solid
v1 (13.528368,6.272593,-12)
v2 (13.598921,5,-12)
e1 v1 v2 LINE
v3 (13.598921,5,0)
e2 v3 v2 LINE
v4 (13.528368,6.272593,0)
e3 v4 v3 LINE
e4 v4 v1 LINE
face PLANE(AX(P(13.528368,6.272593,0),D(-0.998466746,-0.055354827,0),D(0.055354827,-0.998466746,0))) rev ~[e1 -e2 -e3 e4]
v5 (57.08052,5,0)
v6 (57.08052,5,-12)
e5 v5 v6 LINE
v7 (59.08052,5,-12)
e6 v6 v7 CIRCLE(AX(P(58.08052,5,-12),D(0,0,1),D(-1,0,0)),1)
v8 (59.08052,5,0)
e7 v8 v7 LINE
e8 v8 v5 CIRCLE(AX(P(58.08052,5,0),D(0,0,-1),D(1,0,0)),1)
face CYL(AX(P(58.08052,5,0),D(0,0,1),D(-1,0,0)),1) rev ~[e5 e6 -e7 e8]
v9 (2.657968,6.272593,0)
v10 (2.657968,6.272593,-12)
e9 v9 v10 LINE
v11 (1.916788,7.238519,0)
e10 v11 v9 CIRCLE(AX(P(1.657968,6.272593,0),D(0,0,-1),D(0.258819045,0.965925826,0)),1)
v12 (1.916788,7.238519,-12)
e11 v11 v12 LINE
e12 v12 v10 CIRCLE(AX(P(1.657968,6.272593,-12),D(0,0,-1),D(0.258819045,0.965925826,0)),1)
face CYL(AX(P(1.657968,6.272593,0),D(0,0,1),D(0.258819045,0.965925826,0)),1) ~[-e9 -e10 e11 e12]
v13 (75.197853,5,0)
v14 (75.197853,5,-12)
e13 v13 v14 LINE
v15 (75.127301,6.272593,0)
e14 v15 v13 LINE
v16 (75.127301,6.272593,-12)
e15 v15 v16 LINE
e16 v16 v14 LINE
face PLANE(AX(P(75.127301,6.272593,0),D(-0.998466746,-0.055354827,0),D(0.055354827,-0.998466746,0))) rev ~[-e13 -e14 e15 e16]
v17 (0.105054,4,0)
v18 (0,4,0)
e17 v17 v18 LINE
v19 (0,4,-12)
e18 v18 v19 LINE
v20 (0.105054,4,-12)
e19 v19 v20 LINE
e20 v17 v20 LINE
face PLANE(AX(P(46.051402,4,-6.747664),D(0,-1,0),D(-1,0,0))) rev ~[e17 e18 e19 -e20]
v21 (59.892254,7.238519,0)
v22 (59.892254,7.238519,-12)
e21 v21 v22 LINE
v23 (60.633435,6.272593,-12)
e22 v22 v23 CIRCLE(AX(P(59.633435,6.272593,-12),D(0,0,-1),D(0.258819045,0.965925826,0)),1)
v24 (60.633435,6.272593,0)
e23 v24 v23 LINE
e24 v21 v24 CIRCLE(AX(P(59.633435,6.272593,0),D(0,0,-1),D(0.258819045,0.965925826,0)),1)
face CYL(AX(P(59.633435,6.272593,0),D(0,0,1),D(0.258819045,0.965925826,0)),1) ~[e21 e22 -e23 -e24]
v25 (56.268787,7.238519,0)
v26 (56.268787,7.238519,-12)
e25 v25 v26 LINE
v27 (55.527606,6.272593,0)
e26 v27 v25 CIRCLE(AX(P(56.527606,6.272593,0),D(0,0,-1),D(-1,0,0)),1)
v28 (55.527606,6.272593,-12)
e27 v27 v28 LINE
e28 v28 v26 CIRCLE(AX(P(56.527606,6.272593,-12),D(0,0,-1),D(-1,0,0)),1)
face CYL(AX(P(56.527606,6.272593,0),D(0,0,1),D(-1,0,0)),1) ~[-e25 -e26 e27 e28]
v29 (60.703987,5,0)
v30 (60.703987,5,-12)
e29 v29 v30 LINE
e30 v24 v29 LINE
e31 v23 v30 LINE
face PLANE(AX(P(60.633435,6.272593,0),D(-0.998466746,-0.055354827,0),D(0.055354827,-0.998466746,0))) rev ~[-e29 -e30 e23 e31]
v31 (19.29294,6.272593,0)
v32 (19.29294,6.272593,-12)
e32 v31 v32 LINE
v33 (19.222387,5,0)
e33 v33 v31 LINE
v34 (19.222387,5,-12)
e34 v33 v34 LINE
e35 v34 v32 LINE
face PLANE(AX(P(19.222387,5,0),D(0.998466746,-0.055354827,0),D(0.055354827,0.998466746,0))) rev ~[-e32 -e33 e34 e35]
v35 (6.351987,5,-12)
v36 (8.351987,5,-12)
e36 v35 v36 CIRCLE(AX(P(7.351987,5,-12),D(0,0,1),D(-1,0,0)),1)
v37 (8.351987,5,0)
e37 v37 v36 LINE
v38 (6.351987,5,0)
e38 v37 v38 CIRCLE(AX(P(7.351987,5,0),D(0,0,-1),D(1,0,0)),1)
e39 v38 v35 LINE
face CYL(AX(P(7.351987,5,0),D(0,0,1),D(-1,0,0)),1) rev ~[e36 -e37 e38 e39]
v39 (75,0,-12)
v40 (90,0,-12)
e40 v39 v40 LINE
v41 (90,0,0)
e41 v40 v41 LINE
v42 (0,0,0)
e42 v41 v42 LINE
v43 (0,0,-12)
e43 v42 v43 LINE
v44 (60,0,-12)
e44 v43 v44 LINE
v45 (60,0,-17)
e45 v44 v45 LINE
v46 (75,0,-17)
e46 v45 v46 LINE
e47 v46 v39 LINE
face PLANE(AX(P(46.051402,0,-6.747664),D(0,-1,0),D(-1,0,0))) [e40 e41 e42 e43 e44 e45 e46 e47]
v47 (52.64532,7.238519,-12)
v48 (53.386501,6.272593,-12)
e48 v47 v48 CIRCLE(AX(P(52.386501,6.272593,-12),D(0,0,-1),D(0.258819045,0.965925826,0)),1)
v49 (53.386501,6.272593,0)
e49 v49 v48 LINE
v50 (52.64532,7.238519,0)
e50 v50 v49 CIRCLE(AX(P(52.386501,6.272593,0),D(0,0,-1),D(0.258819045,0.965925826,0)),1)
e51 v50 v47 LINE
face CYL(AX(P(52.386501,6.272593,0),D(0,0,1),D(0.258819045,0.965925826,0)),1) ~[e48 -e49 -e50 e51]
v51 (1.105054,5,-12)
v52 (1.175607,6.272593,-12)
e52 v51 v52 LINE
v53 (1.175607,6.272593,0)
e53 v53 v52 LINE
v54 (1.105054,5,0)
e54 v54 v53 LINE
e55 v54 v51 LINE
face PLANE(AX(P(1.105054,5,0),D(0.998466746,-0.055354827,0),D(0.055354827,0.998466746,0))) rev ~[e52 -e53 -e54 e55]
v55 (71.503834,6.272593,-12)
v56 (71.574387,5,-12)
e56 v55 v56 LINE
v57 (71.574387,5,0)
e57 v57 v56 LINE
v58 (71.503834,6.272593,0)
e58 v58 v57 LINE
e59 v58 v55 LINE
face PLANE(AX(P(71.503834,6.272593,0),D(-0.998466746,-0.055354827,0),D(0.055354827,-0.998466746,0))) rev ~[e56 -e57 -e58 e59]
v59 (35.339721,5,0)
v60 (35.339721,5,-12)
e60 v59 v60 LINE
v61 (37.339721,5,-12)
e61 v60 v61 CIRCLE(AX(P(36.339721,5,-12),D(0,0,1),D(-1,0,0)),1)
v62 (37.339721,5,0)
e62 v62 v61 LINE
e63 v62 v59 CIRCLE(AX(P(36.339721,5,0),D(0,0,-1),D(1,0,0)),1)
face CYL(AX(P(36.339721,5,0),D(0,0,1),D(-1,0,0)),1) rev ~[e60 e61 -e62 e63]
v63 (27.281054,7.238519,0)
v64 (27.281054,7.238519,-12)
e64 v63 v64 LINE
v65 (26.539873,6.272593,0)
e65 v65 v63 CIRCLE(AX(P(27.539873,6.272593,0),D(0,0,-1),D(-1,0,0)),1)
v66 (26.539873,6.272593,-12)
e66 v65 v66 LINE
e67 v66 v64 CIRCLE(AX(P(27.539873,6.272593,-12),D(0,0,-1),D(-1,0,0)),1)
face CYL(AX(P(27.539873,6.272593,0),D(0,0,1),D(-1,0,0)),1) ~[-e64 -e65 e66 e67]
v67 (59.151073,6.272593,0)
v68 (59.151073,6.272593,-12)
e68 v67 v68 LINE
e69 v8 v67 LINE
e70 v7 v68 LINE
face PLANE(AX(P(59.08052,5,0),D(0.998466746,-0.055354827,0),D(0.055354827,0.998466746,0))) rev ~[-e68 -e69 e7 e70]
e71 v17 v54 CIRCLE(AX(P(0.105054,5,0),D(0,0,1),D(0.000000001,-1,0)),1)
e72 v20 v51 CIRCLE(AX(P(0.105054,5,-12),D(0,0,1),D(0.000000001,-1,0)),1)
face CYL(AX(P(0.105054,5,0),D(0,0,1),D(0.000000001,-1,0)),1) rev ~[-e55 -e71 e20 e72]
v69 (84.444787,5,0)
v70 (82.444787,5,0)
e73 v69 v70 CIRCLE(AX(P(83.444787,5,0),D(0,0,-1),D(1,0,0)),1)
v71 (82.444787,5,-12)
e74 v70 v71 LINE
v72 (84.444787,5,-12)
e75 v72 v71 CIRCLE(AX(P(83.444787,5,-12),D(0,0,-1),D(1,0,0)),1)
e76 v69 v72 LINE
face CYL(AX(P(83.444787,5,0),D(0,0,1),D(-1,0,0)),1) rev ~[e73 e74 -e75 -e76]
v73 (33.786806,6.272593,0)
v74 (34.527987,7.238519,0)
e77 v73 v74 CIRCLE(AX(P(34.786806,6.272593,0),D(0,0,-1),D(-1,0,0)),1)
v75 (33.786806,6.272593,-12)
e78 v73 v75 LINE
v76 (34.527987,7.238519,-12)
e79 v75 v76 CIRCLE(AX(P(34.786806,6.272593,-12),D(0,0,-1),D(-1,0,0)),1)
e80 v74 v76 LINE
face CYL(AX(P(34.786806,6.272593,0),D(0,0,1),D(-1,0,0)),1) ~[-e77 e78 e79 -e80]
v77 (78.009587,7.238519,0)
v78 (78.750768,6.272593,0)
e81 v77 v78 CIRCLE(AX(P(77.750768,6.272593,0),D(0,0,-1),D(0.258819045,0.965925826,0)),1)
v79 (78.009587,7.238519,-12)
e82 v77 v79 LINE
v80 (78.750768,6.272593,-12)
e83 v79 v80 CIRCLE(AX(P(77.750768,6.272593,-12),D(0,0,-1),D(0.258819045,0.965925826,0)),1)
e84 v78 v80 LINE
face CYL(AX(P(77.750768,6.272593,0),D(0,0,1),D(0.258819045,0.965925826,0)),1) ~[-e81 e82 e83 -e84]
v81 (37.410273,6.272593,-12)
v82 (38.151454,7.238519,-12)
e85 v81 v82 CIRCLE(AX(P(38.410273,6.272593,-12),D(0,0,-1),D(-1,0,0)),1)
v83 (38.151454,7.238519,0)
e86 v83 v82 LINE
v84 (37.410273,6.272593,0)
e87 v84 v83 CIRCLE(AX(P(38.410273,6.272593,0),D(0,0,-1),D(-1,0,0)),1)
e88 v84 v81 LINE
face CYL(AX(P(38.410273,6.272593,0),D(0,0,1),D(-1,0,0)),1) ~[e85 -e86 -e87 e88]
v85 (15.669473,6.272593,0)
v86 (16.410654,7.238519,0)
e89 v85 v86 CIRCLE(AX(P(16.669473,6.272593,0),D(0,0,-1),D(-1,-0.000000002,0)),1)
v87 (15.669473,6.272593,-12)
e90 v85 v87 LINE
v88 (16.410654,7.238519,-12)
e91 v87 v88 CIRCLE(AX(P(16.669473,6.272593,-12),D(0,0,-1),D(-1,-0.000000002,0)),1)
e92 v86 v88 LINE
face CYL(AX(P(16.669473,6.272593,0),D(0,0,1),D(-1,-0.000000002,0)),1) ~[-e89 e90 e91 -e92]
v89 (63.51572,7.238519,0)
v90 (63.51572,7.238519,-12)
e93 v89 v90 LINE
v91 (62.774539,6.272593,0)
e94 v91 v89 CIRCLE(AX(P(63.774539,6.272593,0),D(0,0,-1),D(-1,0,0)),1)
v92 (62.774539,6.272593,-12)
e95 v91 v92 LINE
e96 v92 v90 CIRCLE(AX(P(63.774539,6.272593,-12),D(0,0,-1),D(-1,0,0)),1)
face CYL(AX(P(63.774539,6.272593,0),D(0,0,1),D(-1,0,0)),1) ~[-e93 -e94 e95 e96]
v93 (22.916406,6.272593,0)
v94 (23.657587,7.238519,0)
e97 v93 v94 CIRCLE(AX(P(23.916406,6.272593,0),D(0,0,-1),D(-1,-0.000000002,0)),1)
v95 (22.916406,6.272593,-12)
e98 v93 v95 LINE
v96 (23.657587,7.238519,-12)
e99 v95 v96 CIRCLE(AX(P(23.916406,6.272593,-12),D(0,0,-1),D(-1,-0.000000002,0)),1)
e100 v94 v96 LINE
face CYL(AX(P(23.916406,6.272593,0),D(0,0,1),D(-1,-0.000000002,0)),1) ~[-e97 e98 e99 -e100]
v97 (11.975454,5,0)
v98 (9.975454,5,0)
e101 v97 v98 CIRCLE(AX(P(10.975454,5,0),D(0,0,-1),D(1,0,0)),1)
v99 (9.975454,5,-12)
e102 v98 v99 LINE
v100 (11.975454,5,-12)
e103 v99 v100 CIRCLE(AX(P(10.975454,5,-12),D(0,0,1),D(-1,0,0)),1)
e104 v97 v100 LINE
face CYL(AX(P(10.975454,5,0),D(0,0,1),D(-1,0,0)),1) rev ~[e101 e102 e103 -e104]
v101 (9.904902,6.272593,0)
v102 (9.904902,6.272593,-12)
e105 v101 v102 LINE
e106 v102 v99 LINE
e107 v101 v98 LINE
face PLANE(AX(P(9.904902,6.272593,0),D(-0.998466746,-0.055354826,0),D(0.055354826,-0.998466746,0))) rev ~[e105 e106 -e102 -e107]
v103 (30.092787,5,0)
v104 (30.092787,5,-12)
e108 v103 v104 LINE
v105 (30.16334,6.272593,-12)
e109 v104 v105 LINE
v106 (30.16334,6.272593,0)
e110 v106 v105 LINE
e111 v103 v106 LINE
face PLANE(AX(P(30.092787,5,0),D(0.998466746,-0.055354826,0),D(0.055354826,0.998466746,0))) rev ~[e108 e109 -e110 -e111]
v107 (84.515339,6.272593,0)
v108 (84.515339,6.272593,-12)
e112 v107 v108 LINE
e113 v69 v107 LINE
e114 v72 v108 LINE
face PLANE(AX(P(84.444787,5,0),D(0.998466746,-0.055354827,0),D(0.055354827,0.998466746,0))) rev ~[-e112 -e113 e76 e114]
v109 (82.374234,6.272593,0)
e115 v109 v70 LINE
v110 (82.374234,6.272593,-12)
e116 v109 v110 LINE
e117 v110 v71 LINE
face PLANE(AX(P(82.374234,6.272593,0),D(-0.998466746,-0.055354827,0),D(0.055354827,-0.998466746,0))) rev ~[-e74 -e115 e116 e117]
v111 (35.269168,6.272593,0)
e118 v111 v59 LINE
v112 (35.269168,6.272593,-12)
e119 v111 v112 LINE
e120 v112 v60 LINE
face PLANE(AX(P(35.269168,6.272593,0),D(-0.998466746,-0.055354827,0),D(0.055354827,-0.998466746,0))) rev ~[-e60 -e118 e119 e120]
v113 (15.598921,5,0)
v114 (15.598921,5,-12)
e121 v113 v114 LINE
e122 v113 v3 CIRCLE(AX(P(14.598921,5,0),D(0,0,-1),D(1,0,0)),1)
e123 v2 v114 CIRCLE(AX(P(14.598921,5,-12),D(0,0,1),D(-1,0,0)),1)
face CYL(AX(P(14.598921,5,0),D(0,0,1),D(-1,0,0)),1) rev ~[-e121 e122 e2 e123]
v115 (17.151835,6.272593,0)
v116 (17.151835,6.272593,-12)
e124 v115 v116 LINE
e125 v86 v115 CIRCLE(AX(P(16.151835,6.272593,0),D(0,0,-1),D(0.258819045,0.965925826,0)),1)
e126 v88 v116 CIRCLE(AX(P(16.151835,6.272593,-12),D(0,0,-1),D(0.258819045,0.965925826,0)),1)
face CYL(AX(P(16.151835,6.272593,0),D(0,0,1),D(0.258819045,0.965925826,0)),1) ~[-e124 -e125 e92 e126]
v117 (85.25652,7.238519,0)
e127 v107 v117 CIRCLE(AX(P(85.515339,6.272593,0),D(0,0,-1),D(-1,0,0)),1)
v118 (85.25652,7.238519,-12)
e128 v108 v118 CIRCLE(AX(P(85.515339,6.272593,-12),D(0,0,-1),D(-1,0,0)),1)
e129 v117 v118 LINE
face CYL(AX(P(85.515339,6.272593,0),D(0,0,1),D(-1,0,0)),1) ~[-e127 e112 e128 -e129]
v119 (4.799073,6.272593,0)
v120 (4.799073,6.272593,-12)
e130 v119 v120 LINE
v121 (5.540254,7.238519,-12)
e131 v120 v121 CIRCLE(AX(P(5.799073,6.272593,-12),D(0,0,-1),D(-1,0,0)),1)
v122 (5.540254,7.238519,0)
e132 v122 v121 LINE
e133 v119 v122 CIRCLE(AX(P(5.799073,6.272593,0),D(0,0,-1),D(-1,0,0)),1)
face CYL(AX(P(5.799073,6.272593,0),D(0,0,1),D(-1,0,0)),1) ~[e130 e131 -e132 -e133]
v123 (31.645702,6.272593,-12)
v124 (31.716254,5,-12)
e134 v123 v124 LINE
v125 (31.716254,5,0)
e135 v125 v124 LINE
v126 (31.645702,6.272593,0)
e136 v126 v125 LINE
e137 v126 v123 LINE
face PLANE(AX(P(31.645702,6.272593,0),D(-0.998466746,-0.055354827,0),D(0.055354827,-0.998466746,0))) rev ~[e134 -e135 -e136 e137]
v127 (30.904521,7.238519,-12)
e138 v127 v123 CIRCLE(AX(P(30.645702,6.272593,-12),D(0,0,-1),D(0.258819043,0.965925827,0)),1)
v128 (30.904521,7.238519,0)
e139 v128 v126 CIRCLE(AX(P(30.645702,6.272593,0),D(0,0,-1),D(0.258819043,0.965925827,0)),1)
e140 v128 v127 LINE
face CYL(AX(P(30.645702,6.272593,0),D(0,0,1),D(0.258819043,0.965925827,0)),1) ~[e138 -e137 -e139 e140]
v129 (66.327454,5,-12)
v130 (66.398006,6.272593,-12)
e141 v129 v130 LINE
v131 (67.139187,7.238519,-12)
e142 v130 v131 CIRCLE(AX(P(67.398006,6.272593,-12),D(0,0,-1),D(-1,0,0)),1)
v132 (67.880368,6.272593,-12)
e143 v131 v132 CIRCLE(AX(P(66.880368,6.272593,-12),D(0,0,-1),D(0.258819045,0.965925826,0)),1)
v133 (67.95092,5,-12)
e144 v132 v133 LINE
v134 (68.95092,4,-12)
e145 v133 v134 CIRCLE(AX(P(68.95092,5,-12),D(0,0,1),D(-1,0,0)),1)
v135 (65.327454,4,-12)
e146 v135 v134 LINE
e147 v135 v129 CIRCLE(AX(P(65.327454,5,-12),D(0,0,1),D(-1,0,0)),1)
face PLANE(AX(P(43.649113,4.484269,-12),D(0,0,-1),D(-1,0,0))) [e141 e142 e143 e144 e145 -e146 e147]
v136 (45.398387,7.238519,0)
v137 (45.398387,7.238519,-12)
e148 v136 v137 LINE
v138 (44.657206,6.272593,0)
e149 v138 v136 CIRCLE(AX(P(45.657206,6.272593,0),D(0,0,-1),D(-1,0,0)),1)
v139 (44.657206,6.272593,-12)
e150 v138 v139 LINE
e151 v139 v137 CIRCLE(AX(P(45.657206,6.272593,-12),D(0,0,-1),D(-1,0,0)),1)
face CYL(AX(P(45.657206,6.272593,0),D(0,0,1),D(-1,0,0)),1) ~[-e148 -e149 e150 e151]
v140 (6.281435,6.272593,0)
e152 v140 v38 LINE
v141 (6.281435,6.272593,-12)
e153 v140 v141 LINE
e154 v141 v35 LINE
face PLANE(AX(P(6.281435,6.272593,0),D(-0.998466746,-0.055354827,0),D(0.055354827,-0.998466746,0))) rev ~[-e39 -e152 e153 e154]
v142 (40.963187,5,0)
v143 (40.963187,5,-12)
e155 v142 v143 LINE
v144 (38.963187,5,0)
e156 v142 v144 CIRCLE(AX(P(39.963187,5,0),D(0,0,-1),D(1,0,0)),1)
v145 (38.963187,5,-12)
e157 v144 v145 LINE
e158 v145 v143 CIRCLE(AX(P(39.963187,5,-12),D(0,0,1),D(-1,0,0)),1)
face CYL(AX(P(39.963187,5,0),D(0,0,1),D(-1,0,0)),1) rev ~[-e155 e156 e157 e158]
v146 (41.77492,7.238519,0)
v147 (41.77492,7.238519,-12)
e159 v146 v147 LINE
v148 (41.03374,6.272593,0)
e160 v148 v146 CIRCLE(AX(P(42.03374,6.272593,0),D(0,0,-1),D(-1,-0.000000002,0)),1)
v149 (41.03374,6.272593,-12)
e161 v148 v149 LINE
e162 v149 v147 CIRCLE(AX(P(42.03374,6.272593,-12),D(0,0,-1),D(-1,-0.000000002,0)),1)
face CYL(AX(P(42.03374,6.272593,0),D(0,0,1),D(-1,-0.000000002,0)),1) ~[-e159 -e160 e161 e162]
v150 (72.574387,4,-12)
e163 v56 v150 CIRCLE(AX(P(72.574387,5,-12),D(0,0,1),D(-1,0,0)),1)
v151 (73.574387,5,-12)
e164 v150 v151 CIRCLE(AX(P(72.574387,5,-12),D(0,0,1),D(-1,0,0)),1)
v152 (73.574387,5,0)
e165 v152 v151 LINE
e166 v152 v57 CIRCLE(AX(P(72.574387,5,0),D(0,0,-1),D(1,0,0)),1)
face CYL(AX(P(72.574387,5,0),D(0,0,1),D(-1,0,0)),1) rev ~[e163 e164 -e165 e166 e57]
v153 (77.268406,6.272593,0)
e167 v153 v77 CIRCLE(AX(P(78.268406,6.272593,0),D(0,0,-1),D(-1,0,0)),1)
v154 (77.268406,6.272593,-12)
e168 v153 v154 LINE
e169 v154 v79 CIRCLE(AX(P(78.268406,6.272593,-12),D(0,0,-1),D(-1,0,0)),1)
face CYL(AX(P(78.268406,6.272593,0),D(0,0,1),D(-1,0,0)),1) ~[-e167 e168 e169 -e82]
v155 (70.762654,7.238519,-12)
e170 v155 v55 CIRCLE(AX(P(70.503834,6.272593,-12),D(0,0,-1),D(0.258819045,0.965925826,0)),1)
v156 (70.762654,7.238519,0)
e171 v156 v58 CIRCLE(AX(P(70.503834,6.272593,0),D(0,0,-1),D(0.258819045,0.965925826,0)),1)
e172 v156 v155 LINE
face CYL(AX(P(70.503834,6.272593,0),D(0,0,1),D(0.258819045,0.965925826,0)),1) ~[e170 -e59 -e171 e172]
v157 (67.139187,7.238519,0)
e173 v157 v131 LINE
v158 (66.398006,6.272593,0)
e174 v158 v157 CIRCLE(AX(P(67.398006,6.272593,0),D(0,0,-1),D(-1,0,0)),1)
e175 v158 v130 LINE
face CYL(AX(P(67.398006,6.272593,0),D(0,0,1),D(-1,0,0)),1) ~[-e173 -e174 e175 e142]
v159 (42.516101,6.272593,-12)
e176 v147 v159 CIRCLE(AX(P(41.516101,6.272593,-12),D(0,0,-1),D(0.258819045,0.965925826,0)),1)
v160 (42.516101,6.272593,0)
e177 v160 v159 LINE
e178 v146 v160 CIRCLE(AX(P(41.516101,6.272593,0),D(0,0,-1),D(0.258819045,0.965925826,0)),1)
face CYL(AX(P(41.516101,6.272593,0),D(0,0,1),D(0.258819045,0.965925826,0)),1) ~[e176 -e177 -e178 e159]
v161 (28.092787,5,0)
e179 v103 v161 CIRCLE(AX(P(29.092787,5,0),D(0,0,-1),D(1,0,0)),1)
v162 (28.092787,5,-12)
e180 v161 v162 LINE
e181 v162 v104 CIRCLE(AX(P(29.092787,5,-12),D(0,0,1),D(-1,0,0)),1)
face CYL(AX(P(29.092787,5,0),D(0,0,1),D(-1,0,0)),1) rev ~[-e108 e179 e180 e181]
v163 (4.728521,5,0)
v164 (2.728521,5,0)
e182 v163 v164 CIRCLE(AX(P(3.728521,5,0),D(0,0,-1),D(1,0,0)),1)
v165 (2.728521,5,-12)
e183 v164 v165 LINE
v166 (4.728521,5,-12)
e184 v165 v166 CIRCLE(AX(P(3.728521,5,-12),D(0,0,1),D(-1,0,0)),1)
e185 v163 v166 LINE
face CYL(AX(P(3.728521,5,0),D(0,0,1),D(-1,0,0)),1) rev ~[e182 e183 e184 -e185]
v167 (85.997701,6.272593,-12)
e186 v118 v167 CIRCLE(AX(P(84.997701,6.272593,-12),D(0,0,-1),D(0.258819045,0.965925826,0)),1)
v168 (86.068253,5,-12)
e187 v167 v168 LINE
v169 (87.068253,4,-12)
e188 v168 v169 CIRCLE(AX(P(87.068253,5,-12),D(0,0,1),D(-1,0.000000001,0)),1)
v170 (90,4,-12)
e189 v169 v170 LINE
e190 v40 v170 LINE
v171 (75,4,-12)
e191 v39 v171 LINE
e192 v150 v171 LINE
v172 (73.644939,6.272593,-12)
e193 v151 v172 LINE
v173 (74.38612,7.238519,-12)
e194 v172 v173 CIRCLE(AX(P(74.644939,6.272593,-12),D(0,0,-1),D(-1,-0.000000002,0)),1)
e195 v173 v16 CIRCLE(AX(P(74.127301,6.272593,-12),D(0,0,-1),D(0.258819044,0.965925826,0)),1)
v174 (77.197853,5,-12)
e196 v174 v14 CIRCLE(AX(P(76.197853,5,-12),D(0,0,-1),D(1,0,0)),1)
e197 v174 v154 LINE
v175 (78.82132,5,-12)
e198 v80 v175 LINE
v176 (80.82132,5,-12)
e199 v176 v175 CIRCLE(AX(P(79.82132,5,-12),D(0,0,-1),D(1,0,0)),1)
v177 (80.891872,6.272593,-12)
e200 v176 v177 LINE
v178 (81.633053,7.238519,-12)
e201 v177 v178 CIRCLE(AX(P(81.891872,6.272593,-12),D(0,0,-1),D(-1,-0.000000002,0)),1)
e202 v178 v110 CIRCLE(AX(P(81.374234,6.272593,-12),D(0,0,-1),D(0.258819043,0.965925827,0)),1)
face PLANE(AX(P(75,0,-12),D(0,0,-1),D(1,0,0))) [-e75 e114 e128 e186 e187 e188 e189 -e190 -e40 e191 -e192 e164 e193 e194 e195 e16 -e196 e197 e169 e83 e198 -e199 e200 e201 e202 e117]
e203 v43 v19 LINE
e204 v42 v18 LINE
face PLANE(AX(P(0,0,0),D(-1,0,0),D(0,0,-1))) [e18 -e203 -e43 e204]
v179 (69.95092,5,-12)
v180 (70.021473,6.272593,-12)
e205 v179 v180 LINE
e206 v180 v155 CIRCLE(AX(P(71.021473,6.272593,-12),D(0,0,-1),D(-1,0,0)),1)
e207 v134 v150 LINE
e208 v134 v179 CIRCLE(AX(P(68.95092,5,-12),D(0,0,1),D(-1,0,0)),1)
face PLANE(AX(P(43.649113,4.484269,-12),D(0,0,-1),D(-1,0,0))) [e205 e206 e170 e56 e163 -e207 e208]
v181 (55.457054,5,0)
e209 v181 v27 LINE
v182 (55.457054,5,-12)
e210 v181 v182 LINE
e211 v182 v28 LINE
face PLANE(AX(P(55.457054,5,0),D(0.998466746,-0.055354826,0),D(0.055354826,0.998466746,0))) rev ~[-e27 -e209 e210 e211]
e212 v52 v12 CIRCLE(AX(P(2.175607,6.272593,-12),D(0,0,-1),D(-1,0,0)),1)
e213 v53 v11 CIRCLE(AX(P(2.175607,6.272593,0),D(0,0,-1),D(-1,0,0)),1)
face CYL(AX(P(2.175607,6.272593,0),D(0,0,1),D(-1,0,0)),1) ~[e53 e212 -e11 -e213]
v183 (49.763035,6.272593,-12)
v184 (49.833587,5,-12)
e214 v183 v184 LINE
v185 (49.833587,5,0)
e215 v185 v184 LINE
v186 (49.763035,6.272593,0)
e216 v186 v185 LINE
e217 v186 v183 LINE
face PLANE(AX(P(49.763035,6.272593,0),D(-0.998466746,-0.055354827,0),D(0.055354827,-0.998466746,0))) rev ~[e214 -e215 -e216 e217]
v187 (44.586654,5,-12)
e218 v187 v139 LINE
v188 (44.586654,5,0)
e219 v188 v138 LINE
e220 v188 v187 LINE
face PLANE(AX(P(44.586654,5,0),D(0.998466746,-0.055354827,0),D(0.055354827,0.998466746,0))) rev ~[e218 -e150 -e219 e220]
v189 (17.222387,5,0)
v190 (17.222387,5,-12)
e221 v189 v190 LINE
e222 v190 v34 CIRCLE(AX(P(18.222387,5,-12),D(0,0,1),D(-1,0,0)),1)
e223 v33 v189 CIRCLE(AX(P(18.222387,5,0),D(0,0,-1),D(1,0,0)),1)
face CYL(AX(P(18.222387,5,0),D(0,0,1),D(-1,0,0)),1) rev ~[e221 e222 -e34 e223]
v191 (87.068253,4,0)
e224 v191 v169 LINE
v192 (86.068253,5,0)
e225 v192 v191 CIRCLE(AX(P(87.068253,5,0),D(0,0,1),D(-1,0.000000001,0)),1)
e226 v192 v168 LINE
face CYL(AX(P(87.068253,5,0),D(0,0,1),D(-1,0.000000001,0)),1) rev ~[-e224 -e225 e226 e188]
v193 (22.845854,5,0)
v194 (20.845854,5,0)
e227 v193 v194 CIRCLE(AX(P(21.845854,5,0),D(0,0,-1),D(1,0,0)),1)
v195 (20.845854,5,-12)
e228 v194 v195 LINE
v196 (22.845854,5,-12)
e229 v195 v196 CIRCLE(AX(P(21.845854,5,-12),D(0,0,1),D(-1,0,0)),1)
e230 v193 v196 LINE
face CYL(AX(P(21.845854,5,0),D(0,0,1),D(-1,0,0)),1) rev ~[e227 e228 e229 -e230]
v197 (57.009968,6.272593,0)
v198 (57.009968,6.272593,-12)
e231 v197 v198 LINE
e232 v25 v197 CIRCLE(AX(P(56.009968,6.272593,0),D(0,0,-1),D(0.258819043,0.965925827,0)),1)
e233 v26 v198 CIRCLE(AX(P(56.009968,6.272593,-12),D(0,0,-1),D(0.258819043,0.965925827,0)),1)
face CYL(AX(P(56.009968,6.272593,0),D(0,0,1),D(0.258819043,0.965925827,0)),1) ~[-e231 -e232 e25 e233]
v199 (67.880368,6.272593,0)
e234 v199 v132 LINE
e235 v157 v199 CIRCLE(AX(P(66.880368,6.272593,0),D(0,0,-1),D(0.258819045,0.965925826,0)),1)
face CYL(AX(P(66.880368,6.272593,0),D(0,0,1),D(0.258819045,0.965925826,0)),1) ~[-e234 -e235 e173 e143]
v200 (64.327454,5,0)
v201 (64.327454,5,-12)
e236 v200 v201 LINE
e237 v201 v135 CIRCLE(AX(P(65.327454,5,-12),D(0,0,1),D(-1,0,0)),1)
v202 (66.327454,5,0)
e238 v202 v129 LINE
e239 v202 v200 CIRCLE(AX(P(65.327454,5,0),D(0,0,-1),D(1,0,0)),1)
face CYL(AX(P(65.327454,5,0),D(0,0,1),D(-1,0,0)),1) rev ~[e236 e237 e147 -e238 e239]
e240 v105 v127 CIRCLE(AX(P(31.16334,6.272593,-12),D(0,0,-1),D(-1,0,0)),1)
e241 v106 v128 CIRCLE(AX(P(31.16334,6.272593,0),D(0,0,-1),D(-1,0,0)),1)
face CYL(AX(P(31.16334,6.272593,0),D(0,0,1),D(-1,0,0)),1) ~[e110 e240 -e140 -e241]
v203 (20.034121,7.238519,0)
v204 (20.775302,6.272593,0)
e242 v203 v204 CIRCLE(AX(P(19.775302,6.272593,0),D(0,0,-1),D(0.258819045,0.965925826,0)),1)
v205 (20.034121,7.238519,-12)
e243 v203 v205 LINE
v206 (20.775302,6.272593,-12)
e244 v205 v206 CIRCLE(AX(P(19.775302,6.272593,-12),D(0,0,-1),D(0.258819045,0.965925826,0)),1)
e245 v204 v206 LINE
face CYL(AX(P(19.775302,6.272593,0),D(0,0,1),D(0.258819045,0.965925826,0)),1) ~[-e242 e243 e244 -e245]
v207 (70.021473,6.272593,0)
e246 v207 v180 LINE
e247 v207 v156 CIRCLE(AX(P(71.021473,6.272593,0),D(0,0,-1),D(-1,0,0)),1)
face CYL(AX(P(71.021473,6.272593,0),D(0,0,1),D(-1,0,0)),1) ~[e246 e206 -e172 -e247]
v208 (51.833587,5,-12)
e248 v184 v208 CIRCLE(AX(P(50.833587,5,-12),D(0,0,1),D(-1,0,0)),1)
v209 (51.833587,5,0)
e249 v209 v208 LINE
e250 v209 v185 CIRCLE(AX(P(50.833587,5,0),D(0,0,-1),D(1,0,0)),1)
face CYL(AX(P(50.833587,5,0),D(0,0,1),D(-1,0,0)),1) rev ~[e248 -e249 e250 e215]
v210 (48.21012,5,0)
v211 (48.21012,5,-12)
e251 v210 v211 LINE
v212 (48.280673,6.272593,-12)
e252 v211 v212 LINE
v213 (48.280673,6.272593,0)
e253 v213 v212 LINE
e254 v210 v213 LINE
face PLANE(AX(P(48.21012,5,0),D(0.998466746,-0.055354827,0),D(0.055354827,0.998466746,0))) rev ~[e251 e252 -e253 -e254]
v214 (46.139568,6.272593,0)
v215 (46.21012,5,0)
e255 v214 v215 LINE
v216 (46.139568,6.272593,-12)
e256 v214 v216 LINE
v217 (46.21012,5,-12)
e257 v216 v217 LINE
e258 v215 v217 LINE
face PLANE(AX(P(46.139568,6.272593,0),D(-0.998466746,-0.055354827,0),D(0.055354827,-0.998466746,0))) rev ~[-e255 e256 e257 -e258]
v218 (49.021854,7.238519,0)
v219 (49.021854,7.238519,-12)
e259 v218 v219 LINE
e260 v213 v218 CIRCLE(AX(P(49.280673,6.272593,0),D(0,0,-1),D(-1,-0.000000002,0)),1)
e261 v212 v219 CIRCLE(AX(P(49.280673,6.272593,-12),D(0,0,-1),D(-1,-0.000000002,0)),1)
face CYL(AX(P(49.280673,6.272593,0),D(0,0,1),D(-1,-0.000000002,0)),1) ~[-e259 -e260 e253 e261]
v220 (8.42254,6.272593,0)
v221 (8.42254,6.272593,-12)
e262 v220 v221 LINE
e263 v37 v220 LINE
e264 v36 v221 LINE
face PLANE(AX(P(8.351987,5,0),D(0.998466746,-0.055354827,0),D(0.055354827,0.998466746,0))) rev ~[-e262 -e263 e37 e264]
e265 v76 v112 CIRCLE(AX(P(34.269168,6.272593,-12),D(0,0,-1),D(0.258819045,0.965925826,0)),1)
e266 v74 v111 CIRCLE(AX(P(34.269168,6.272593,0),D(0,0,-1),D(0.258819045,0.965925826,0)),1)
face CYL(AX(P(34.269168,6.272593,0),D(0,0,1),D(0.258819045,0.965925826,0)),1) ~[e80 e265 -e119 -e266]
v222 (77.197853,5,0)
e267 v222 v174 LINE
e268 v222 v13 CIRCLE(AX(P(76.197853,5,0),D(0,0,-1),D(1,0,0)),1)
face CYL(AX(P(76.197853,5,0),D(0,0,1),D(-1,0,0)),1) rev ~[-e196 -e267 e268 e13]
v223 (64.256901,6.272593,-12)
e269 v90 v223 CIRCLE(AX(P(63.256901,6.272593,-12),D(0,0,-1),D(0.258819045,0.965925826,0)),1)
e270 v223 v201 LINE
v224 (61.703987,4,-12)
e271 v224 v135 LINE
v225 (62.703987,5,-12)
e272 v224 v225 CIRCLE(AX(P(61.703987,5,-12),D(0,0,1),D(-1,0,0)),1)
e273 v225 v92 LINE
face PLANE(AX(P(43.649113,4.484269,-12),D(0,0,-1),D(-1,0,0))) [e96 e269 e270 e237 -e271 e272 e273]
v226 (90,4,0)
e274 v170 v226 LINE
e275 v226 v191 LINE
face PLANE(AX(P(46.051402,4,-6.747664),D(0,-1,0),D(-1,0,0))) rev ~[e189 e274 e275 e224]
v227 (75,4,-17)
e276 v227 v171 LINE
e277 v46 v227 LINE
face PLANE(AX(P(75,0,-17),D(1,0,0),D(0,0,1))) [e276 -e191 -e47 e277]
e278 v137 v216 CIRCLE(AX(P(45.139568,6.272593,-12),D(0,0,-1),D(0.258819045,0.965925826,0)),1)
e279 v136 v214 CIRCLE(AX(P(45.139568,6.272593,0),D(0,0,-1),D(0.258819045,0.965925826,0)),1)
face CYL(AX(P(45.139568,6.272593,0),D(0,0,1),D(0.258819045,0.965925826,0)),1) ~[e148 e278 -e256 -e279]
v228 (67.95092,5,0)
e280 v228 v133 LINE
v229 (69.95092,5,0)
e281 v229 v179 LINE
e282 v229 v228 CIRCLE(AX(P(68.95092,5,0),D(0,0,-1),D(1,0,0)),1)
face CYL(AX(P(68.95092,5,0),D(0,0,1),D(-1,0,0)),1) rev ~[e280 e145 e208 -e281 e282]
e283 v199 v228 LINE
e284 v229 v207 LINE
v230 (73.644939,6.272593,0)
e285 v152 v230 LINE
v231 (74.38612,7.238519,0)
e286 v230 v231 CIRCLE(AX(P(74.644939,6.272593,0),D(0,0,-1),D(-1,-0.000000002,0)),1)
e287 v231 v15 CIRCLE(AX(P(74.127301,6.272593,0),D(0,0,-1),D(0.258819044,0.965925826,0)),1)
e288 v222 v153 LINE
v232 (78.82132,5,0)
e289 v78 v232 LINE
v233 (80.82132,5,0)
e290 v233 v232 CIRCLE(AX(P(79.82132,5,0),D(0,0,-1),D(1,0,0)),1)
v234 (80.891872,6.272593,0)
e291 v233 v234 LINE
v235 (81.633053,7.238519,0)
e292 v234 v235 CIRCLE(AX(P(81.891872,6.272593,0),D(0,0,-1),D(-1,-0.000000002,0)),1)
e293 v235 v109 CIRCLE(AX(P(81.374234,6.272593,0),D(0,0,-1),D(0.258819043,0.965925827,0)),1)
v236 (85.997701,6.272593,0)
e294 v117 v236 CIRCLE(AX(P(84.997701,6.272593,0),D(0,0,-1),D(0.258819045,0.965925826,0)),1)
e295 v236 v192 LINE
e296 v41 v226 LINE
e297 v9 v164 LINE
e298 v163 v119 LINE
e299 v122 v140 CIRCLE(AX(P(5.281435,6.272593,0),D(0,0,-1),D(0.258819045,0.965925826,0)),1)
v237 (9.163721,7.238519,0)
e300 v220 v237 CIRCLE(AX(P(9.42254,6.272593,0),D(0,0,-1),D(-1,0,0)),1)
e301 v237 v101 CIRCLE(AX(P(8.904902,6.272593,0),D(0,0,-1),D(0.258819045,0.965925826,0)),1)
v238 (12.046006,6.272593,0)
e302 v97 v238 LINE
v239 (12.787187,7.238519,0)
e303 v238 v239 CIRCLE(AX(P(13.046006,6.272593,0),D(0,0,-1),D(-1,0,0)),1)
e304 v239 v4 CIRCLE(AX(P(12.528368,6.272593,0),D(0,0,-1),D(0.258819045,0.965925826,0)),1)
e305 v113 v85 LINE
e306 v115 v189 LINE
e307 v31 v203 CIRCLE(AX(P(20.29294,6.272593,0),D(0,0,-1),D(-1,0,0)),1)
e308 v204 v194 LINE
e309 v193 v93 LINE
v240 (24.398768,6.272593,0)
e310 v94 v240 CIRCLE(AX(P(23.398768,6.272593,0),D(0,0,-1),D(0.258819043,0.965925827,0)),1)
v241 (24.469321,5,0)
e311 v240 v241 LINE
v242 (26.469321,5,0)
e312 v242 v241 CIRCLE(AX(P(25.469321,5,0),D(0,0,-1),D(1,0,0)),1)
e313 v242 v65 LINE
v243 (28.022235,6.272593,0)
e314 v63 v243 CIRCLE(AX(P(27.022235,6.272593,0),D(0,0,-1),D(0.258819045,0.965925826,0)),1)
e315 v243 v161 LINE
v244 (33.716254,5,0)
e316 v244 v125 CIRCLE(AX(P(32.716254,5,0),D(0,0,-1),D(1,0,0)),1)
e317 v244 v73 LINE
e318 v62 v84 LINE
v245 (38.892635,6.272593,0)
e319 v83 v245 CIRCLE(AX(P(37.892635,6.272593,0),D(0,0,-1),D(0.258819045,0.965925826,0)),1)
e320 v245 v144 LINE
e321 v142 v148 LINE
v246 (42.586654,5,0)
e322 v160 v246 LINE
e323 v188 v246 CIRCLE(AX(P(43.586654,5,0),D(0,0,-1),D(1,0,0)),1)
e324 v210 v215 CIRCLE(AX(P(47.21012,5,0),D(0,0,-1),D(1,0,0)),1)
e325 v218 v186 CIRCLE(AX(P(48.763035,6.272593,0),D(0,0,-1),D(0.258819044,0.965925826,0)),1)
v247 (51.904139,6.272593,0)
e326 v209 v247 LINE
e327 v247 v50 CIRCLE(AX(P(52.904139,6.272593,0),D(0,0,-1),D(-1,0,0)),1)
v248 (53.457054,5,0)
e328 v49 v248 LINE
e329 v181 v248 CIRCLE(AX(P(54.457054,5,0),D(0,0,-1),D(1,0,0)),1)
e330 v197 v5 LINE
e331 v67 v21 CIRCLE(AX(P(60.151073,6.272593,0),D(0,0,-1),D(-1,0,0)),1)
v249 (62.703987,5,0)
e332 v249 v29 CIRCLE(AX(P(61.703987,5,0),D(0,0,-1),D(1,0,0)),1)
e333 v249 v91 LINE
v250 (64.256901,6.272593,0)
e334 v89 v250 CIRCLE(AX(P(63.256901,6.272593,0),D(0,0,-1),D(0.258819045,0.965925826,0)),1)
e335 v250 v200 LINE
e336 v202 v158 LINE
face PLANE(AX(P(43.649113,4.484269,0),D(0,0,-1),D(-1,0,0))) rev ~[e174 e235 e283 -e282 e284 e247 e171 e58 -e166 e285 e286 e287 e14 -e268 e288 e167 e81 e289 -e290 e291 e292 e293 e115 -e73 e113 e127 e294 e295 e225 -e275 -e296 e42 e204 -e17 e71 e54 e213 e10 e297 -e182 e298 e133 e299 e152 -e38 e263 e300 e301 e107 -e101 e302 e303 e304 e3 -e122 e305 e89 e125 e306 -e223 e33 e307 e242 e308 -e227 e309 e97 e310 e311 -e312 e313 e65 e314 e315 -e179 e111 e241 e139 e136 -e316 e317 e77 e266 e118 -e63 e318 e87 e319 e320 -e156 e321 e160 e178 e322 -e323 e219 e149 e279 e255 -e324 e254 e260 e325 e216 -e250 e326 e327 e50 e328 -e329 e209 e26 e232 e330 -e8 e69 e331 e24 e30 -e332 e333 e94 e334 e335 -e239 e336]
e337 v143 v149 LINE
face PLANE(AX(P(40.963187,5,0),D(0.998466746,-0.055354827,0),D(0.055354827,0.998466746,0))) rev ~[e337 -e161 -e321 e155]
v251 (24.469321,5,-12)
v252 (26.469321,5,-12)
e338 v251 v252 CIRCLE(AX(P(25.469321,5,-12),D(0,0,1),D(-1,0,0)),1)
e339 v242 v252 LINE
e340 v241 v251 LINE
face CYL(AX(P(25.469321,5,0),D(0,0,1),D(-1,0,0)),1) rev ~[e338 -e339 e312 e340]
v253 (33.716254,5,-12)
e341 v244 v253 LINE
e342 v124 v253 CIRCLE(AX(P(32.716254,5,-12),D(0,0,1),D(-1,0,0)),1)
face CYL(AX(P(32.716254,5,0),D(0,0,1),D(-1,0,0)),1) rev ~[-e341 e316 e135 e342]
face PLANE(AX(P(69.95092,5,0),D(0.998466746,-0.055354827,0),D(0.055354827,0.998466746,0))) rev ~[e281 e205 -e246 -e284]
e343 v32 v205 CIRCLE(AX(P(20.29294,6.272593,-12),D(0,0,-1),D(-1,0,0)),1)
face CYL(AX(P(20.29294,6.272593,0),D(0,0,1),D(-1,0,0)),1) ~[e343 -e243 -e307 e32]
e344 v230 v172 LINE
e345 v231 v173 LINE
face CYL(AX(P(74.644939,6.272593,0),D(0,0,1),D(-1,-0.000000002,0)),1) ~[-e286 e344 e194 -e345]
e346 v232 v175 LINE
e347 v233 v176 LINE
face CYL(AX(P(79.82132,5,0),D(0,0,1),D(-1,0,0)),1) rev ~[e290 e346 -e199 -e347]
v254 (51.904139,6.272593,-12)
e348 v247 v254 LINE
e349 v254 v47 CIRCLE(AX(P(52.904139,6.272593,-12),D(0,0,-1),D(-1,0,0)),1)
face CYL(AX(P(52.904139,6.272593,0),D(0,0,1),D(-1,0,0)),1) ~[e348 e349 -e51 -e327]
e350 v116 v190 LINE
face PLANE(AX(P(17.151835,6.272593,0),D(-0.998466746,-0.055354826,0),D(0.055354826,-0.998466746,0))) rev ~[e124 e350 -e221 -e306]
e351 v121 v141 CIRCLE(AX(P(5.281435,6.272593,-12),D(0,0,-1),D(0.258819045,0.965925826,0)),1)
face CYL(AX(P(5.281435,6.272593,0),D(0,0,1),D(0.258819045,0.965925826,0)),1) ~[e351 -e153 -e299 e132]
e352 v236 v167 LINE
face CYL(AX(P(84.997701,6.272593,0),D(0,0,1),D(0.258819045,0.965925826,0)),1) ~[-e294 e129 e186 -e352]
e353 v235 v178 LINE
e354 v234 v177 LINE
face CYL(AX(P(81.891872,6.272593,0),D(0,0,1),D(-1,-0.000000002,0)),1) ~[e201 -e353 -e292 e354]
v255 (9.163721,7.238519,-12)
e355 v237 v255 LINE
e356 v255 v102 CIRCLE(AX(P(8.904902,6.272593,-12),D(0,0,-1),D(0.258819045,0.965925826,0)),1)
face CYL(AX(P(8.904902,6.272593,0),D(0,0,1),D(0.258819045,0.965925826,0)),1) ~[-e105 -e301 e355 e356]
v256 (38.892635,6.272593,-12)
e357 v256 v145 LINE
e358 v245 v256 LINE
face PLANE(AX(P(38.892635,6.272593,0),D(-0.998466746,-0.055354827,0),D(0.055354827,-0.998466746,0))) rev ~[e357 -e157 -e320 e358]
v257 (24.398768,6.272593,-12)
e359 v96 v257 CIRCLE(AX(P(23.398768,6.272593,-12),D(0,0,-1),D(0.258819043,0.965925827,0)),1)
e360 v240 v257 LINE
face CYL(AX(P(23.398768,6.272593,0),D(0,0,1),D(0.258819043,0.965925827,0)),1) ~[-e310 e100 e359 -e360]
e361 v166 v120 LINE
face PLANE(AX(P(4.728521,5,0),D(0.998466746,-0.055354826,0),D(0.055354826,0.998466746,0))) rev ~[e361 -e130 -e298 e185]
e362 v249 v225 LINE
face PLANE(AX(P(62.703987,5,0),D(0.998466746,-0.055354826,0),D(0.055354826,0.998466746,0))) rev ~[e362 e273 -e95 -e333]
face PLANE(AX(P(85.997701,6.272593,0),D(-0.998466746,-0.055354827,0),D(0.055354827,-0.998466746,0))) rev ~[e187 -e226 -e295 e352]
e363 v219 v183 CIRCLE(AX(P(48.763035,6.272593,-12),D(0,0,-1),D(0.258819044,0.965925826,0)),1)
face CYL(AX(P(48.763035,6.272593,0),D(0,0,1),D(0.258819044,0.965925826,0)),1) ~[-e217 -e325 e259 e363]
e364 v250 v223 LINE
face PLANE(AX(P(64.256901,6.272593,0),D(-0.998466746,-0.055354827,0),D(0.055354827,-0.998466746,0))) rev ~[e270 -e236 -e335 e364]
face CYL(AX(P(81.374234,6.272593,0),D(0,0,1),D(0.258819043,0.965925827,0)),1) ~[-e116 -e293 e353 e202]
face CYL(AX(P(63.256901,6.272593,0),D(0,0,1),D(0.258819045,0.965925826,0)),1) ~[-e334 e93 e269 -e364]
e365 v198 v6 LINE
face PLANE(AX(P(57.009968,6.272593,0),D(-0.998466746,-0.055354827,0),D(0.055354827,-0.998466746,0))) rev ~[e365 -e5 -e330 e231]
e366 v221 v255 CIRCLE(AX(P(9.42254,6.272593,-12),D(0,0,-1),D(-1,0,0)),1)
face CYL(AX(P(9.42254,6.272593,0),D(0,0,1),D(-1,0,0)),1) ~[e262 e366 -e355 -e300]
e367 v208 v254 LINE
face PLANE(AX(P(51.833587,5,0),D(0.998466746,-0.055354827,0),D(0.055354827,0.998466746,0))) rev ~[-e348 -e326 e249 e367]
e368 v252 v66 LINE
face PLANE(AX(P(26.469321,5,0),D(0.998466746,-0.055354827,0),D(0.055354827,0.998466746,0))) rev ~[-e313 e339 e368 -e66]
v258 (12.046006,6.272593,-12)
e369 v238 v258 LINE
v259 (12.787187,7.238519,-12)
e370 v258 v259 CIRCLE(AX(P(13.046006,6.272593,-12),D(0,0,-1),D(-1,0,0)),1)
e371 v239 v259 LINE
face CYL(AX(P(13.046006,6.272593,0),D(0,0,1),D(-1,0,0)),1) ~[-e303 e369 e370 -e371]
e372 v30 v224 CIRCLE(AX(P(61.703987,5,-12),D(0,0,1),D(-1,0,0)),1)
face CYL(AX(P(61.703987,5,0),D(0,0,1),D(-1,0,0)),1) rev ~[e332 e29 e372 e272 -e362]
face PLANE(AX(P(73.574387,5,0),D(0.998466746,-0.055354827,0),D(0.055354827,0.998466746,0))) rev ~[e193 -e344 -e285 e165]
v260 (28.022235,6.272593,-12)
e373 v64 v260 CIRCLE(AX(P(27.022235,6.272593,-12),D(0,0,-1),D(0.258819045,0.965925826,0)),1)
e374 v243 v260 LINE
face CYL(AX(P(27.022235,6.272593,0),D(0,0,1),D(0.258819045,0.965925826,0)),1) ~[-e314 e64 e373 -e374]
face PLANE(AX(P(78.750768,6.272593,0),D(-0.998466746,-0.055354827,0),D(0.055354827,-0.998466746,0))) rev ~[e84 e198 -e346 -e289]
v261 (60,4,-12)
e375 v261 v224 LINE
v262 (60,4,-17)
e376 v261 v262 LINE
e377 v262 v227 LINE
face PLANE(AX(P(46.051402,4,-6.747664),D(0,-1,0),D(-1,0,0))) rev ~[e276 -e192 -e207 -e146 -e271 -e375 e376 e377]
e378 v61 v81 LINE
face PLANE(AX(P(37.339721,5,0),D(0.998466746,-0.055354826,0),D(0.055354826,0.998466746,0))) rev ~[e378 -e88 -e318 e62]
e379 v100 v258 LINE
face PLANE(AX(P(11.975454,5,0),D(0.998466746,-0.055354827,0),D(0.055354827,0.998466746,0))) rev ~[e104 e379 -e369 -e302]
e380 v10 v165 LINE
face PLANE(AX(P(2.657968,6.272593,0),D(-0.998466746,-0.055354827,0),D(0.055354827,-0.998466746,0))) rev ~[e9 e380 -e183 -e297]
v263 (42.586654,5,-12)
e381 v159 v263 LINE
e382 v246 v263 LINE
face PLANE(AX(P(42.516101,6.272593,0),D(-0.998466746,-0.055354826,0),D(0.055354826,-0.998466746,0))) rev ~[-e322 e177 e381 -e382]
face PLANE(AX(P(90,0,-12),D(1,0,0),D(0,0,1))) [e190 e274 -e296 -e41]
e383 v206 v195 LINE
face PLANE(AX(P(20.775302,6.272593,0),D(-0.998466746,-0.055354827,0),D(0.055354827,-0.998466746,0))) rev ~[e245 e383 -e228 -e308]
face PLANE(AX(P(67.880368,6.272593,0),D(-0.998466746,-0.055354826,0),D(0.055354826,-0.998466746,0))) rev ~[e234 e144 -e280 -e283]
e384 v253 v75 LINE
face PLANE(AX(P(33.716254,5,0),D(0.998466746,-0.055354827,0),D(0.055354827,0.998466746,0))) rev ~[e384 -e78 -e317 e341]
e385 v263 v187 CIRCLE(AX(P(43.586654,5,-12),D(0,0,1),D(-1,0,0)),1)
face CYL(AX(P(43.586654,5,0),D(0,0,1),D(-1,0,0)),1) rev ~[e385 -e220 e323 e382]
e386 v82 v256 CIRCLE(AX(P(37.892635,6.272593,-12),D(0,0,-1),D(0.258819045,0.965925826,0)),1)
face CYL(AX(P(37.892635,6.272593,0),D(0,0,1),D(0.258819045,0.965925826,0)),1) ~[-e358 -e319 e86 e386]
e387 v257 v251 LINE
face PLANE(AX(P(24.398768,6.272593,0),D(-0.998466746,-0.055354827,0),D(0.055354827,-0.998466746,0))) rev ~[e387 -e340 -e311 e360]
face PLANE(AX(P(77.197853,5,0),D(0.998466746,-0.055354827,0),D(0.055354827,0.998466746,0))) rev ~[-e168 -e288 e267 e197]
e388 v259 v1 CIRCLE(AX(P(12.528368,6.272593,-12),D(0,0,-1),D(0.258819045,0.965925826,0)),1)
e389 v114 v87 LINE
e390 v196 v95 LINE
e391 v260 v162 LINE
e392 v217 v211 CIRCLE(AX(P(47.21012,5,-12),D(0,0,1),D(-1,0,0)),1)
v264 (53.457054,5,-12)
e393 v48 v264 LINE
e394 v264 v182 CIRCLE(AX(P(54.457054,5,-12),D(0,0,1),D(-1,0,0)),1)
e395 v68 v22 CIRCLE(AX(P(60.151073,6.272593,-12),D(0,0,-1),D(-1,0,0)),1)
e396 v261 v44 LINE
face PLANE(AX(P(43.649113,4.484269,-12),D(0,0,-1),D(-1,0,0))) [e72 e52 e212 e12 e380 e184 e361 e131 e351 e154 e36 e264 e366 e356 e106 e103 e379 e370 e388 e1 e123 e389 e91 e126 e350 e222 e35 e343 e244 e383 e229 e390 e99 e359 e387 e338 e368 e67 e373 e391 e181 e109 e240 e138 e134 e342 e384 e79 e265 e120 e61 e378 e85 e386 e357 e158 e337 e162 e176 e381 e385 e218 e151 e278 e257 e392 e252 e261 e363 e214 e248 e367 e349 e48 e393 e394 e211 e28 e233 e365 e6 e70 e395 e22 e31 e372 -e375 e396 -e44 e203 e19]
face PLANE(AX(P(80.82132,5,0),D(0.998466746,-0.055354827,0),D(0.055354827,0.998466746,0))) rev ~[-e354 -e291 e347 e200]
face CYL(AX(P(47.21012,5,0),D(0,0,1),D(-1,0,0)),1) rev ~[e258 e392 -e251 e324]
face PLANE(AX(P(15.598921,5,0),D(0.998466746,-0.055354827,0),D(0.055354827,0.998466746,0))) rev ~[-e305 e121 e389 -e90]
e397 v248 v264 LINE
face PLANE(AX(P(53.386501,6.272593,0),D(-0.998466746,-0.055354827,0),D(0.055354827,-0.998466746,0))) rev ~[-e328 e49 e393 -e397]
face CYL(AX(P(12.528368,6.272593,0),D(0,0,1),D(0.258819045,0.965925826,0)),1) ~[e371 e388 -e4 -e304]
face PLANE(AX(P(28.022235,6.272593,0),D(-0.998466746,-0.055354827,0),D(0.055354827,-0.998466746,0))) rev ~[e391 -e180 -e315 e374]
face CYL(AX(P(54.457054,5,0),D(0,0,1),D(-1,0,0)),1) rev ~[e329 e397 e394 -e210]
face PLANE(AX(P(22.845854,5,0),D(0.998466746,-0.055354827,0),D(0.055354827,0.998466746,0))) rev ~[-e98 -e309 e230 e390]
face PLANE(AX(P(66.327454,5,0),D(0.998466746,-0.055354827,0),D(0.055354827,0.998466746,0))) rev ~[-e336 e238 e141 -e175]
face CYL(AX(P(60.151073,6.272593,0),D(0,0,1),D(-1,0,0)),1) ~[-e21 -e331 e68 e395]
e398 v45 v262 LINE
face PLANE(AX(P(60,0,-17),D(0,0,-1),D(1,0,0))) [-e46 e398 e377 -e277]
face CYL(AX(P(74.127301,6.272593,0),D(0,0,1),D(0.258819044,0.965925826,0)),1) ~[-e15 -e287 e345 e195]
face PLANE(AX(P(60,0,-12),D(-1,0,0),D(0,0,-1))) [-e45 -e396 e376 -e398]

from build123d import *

# Parameters (mm, degrees)
BOSS_EXTRUDE1_DEPTH = 4
BOSS_EXTRUDE3_DEPTH = 12


with BuildPart() as part:
    # Sketch1 → Boss-Extrude1 (new body)
    with BuildSketch(Plane(origin=(0, 0, 0), x_dir=(1, 0, 0), z_dir=(0, 1, 0))):
        Polygon((75, 12), (90, 12), (90, 0), (0, 0), (0, 12), (60, 12), (60, 17), (75, 17), align=None)
    extrude(amount=BOSS_EXTRUDE1_DEPTH)

    # Sketch2 → Boss-Extrude3 (add)
    with BuildSketch(Plane.XY):
        with BuildLine():
            Line((1.10505422, 5), (1.175606581, 6.27259339))
            ThreePointArc((1.175606581, 6.27259339), (1.382253241, 6.881354819), (1.916787536, 7.238519216))
            ThreePointArc((1.916787536, 7.238519216), (2.451321831, 6.881354819), (2.657968491, 6.27259339))
            Line((2.657968491, 6.27259339), (2.728520852, 5))
            ThreePointArc((2.728520852, 5), (3.728520852, 4), (4.728520852, 5))
            Line((4.728520852, 5), (4.799073212, 6.27259339))
            ThreePointArc((4.799073212, 6.27259339), (5.005719872, 6.881354819), (5.540254167, 7.238519216))
            ThreePointArc((5.540254167, 7.238519216), (6.074788462, 6.881354819), (6.281435122, 6.27259339))
            Line((6.281435122, 6.27259339), (6.351987483, 5))
            ThreePointArc((6.351987483, 5), (7.351987483, 4), (8.351987483, 5))
            Line((8.351987483, 5), (8.422539844, 6.27259339))
            ThreePointArc((8.422539844, 6.27259339), (8.629186504, 6.881354819), (9.163720799, 7.238519216))
            ThreePointArc((9.163720799, 7.238519216), (9.698255094, 6.881354819), (9.904901754, 6.27259339))
            Line((9.904901754, 6.27259339), (9.975454114, 5))
            ThreePointArc((9.975454114, 5), (10.975454114, 4), (11.975454114, 5))
            Line((11.975454114, 5), (12.046006475, 6.27259339))
            ThreePointArc((12.046006475, 6.27259339), (12.252653135, 6.881354819), (12.78718743, 7.238519216))
            ThreePointArc((12.78718743, 7.238519216), (13.321721725, 6.881354819), (13.528368385, 6.27259339))
            Line((13.528368385, 6.27259339), (13.598920746, 5))
            ThreePointArc((13.598920746, 5), (14.598920746, 4), (15.598920746, 5))
            Line((15.598920746, 5), (15.669473107, 6.27259339))
            ThreePointArc((15.669473107, 6.27259339), (15.876119766, 6.881354819), (16.410654062, 7.238519216))
            ThreePointArc((16.410654062, 7.238519216), (16.945188357, 6.881354819), (17.151835017, 6.27259339))
            Line((17.151835017, 6.27259339), (17.222387377, 5))
            ThreePointArc((17.222387377, 5), (18.222387377, 4), (19.222387377, 5))
            Line((19.222387377, 5), (19.292939738, 6.27259339))
            ThreePointArc((19.292939738, 6.27259339), (19.499586398, 6.881354819), (20.034120693, 7.238519216))
            ThreePointArc((20.034120693, 7.238519216), (20.568654988, 6.881354819), (20.775301648, 6.27259339))
            Line((20.775301648, 6.27259339), (20.845854009, 5))
            ThreePointArc((20.845854009, 5), (21.845854009, 4), (22.845854009, 5))
            Line((22.845854009, 5), (22.91640637, 6.27259339))
            ThreePointArc((22.91640637, 6.27259339), (23.123053029, 6.881354819), (23.657587324, 7.238519216))
            ThreePointArc((23.657587324, 7.238519216), (24.19212162, 6.881354819), (24.398768279, 6.27259339))
            Line((24.398768279, 6.27259339), (24.46932064, 5))
            ThreePointArc((24.46932064, 5), (25.46932064, 4), (26.46932064, 5))
            Line((26.46932064, 5), (26.539873001, 6.27259339))
            ThreePointArc((26.539873001, 6.27259339), (26.746519661, 6.881354819), (27.281053956, 7.238519216))
            ThreePointArc((27.281053956, 7.238519216), (27.815588251, 6.881354819), (28.022234911, 6.27259339))
            Line((28.022234911, 6.27259339), (28.092787272, 5))
            ThreePointArc((28.092787272, 5), (29.092787272, 4), (30.092787272, 5))
            Line((30.092787272, 5), (30.163339632, 6.27259339))
            ThreePointArc((30.163339632, 6.27259339), (30.369986292, 6.881354819), (30.904520587, 7.238519216))
            ThreePointArc((30.904520587, 7.238519216), (31.439054883, 6.881354819), (31.645701542, 6.27259339))
            Line((31.645701542, 6.27259339), (31.716253903, 5))
            ThreePointArc((31.716253903, 5), (32.716253903, 4), (33.716253903, 5))
            Line((33.716253903, 5), (33.786806264, 6.27259339))
            ThreePointArc((33.786806264, 6.27259339), (33.993452924, 6.881354819), (34.527987219, 7.238519216))
            ThreePointArc((34.527987219, 7.238519216), (35.062521514, 6.881354819), (35.269168174, 6.27259339))
            Line((35.269168174, 6.27259339), (35.339720535, 5))
            ThreePointArc((35.339720535, 5), (36.339720535, 4), (37.339720535, 5))
            Line((37.339720535, 5), (37.410272895, 6.27259339))
            ThreePointArc((37.410272895, 6.27259339), (37.616919555, 6.881354819), (38.15145385, 7.238519216))
            ThreePointArc((38.15145385, 7.238519216), (38.685988145, 6.881354819), (38.892634805, 6.27259339))
            Line((38.892634805, 6.27259339), (38.963187166, 5))
            ThreePointArc((38.963187166, 5), (39.963187166, 4), (40.963187166, 5))
            Line((40.963187166, 5), (41.033739527, 6.27259339))
            ThreePointArc((41.033739527, 6.27259339), (41.240386186, 6.881354819), (41.774920482, 7.238519216))
            ThreePointArc((41.774920482, 7.238519216), (42.309454777, 6.881354819), (42.516101437, 6.27259339))
            Line((42.516101437, 6.27259339), (42.586653797, 5))
            ThreePointArc((42.586653797, 5), (43.586653797, 4), (44.586653797, 5))
            Line((44.586653797, 5), (44.657206158, 6.27259339))
            ThreePointArc((44.657206158, 6.27259339), (44.863852818, 6.881354819), (45.398387113, 7.238519216))
            ThreePointArc((45.398387113, 7.238519216), (45.932921408, 6.881354819), (46.139568068, 6.27259339))
            Line((46.139568068, 6.27259339), (46.210120429, 5))
            ThreePointArc((46.210120429, 5), (47.210120429, 4), (48.210120429, 5))
            Line((48.210120429, 5), (48.28067279, 6.27259339))
            ThreePointArc((48.28067279, 6.27259339), (48.487319449, 6.881354819), (49.021853745, 7.238519216))
            ThreePointArc((49.021853745, 7.238519216), (49.55638804, 6.881354819), (49.763034699, 6.27259339))
            Line((49.763034699, 6.27259339), (49.83358706, 5))
            ThreePointArc((49.83358706, 5), (50.83358706, 4), (51.83358706, 5))
            Line((51.83358706, 5), (51.904139421, 6.27259339))
            ThreePointArc((51.904139421, 6.27259339), (52.110786081, 6.881354819), (52.645320376, 7.238519216))
            ThreePointArc((52.645320376, 7.238519216), (53.179854671, 6.881354819), (53.386501331, 6.27259339))
            Line((53.386501331, 6.27259339), (53.457053692, 5))
            ThreePointArc((53.457053692, 5), (54.457053692, 4), (55.457053692, 5))
            Line((55.457053692, 5), (55.527606052, 6.27259339))
            ThreePointArc((55.527606052, 6.27259339), (55.734252712, 6.881354819), (56.268787007, 7.238519216))
            ThreePointArc((56.268787007, 7.238519216), (56.803321303, 6.881354819), (57.009967962, 6.27259339))
            Line((57.009967962, 6.27259339), (57.080520323, 5))
            ThreePointArc((57.080520323, 5), (58.080520323, 4), (59.080520323, 5))
            Line((59.080520323, 5), (59.151072684, 6.27259339))
            ThreePointArc((59.151072684, 6.27259339), (59.357719344, 6.881354819), (59.892253639, 7.238519216))
            ThreePointArc((59.892253639, 7.238519216), (60.426787934, 6.881354819), (60.633434594, 6.27259339))
            Line((60.633434594, 6.27259339), (60.703986955, 5))
            ThreePointArc((60.703986955, 5), (61.703986955, 4), (62.703986955, 5))
            Line((62.703986955, 5), (62.774539315, 6.27259339))
            ThreePointArc((62.774539315, 6.27259339), (62.981185975, 6.881354819), (63.51572027, 7.238519216))
            ThreePointArc((63.51572027, 7.238519216), (64.050254565, 6.881354819), (64.256901225, 6.27259339))
            Line((64.256901225, 6.27259339), (64.327453586, 5))
            ThreePointArc((64.327453586, 5), (65.327453586, 4), (66.327453586, 5))
            Line((66.327453586, 5), (66.398005947, 6.27259339))
            ThreePointArc((66.398005947, 6.27259339), (66.604652607, 6.881354819), (67.139186902, 7.238519216))
            ThreePointArc((67.139186902, 7.238519216), (67.673721197, 6.881354819), (67.880367857, 6.27259339))
            Line((67.880367857, 6.27259339), (67.950920217, 5))
            ThreePointArc((67.950920217, 5), (68.950920217, 4), (69.950920217, 5))
            Line((69.950920217, 5), (70.021472578, 6.27259339))
            ThreePointArc((70.021472578, 6.27259339), (70.228119238, 6.881354819), (70.762653533, 7.238519216))
            ThreePointArc((70.762653533, 7.238519216), (71.297187828, 6.881354819), (71.503834488, 6.27259339))
            Line((71.503834488, 6.27259339), (71.574386849, 5))
            ThreePointArc((71.574386849, 5), (72.574386849, 4), (73.574386849, 5))
            Line((73.574386849, 5), (73.64493921, 6.27259339))
            ThreePointArc((73.64493921, 6.27259339), (73.851585869, 6.881354819), (74.386120165, 7.238519216))
            ThreePointArc((74.386120165, 7.238519216), (74.92065446, 6.881354819), (75.127301119, 6.27259339))
            Line((75.127301119, 6.27259339), (75.19785348, 5))
            ThreePointArc((75.19785348, 5), (76.19785348, 4), (77.19785348, 5))
            Line((77.19785348, 5), (77.268405841, 6.27259339))
            ThreePointArc((77.268405841, 6.27259339), (77.475052501, 6.881354819), (78.009586796, 7.238519216))
            ThreePointArc((78.009586796, 7.238519216), (78.544121091, 6.881354819), (78.750767751, 6.27259339))
            Line((78.750767751, 6.27259339), (78.821320112, 5))
            ThreePointArc((78.821320112, 5), (79.821320112, 4), (80.821320112, 5))
            Line((80.821320112, 5), (80.891872473, 6.27259339))
            ThreePointArc((80.891872473, 6.27259339), (81.098519132, 6.881354819), (81.633053427, 7.238519216))
            ThreePointArc((81.633053427, 7.238519216), (82.167587723, 6.881354819), (82.374234382, 6.27259339))
            Line((82.374234382, 6.27259339), (82.444786743, 5))
            ThreePointArc((82.444786743, 5), (83.444786743, 4), (84.444786743, 5))
            Line((84.444786743, 5), (84.515339104, 6.27259339))
            ThreePointArc((84.515339104, 6.27259339), (84.721985764, 6.881354819), (85.256520059, 7.238519216))
            ThreePointArc((85.256520059, 7.238519216), (85.791054354, 6.881354819), (85.997701014, 6.27259339))
            Line((85.997701014, 6.27259339), (86.068253375, 5))
            ThreePointArc((86.068253375, 5), (86.361146593, 4.292893219), (87.068253375, 4))
            Line((87.068253375, 4), (87.068253375, 1.902319502))
            Line((87.068253375, 1.902319502), (0.10505422, 2.313670855))
            Line((0.10505422, 2.313670855), (0.10505422, 4))
            ThreePointArc((0.10505422, 4), (0.812161001, 4.292893219), (1.10505422, 5))
        make_face()
    extrude(amount=-BOSS_EXTRUDE3_DEPTH)


solid = part.part
